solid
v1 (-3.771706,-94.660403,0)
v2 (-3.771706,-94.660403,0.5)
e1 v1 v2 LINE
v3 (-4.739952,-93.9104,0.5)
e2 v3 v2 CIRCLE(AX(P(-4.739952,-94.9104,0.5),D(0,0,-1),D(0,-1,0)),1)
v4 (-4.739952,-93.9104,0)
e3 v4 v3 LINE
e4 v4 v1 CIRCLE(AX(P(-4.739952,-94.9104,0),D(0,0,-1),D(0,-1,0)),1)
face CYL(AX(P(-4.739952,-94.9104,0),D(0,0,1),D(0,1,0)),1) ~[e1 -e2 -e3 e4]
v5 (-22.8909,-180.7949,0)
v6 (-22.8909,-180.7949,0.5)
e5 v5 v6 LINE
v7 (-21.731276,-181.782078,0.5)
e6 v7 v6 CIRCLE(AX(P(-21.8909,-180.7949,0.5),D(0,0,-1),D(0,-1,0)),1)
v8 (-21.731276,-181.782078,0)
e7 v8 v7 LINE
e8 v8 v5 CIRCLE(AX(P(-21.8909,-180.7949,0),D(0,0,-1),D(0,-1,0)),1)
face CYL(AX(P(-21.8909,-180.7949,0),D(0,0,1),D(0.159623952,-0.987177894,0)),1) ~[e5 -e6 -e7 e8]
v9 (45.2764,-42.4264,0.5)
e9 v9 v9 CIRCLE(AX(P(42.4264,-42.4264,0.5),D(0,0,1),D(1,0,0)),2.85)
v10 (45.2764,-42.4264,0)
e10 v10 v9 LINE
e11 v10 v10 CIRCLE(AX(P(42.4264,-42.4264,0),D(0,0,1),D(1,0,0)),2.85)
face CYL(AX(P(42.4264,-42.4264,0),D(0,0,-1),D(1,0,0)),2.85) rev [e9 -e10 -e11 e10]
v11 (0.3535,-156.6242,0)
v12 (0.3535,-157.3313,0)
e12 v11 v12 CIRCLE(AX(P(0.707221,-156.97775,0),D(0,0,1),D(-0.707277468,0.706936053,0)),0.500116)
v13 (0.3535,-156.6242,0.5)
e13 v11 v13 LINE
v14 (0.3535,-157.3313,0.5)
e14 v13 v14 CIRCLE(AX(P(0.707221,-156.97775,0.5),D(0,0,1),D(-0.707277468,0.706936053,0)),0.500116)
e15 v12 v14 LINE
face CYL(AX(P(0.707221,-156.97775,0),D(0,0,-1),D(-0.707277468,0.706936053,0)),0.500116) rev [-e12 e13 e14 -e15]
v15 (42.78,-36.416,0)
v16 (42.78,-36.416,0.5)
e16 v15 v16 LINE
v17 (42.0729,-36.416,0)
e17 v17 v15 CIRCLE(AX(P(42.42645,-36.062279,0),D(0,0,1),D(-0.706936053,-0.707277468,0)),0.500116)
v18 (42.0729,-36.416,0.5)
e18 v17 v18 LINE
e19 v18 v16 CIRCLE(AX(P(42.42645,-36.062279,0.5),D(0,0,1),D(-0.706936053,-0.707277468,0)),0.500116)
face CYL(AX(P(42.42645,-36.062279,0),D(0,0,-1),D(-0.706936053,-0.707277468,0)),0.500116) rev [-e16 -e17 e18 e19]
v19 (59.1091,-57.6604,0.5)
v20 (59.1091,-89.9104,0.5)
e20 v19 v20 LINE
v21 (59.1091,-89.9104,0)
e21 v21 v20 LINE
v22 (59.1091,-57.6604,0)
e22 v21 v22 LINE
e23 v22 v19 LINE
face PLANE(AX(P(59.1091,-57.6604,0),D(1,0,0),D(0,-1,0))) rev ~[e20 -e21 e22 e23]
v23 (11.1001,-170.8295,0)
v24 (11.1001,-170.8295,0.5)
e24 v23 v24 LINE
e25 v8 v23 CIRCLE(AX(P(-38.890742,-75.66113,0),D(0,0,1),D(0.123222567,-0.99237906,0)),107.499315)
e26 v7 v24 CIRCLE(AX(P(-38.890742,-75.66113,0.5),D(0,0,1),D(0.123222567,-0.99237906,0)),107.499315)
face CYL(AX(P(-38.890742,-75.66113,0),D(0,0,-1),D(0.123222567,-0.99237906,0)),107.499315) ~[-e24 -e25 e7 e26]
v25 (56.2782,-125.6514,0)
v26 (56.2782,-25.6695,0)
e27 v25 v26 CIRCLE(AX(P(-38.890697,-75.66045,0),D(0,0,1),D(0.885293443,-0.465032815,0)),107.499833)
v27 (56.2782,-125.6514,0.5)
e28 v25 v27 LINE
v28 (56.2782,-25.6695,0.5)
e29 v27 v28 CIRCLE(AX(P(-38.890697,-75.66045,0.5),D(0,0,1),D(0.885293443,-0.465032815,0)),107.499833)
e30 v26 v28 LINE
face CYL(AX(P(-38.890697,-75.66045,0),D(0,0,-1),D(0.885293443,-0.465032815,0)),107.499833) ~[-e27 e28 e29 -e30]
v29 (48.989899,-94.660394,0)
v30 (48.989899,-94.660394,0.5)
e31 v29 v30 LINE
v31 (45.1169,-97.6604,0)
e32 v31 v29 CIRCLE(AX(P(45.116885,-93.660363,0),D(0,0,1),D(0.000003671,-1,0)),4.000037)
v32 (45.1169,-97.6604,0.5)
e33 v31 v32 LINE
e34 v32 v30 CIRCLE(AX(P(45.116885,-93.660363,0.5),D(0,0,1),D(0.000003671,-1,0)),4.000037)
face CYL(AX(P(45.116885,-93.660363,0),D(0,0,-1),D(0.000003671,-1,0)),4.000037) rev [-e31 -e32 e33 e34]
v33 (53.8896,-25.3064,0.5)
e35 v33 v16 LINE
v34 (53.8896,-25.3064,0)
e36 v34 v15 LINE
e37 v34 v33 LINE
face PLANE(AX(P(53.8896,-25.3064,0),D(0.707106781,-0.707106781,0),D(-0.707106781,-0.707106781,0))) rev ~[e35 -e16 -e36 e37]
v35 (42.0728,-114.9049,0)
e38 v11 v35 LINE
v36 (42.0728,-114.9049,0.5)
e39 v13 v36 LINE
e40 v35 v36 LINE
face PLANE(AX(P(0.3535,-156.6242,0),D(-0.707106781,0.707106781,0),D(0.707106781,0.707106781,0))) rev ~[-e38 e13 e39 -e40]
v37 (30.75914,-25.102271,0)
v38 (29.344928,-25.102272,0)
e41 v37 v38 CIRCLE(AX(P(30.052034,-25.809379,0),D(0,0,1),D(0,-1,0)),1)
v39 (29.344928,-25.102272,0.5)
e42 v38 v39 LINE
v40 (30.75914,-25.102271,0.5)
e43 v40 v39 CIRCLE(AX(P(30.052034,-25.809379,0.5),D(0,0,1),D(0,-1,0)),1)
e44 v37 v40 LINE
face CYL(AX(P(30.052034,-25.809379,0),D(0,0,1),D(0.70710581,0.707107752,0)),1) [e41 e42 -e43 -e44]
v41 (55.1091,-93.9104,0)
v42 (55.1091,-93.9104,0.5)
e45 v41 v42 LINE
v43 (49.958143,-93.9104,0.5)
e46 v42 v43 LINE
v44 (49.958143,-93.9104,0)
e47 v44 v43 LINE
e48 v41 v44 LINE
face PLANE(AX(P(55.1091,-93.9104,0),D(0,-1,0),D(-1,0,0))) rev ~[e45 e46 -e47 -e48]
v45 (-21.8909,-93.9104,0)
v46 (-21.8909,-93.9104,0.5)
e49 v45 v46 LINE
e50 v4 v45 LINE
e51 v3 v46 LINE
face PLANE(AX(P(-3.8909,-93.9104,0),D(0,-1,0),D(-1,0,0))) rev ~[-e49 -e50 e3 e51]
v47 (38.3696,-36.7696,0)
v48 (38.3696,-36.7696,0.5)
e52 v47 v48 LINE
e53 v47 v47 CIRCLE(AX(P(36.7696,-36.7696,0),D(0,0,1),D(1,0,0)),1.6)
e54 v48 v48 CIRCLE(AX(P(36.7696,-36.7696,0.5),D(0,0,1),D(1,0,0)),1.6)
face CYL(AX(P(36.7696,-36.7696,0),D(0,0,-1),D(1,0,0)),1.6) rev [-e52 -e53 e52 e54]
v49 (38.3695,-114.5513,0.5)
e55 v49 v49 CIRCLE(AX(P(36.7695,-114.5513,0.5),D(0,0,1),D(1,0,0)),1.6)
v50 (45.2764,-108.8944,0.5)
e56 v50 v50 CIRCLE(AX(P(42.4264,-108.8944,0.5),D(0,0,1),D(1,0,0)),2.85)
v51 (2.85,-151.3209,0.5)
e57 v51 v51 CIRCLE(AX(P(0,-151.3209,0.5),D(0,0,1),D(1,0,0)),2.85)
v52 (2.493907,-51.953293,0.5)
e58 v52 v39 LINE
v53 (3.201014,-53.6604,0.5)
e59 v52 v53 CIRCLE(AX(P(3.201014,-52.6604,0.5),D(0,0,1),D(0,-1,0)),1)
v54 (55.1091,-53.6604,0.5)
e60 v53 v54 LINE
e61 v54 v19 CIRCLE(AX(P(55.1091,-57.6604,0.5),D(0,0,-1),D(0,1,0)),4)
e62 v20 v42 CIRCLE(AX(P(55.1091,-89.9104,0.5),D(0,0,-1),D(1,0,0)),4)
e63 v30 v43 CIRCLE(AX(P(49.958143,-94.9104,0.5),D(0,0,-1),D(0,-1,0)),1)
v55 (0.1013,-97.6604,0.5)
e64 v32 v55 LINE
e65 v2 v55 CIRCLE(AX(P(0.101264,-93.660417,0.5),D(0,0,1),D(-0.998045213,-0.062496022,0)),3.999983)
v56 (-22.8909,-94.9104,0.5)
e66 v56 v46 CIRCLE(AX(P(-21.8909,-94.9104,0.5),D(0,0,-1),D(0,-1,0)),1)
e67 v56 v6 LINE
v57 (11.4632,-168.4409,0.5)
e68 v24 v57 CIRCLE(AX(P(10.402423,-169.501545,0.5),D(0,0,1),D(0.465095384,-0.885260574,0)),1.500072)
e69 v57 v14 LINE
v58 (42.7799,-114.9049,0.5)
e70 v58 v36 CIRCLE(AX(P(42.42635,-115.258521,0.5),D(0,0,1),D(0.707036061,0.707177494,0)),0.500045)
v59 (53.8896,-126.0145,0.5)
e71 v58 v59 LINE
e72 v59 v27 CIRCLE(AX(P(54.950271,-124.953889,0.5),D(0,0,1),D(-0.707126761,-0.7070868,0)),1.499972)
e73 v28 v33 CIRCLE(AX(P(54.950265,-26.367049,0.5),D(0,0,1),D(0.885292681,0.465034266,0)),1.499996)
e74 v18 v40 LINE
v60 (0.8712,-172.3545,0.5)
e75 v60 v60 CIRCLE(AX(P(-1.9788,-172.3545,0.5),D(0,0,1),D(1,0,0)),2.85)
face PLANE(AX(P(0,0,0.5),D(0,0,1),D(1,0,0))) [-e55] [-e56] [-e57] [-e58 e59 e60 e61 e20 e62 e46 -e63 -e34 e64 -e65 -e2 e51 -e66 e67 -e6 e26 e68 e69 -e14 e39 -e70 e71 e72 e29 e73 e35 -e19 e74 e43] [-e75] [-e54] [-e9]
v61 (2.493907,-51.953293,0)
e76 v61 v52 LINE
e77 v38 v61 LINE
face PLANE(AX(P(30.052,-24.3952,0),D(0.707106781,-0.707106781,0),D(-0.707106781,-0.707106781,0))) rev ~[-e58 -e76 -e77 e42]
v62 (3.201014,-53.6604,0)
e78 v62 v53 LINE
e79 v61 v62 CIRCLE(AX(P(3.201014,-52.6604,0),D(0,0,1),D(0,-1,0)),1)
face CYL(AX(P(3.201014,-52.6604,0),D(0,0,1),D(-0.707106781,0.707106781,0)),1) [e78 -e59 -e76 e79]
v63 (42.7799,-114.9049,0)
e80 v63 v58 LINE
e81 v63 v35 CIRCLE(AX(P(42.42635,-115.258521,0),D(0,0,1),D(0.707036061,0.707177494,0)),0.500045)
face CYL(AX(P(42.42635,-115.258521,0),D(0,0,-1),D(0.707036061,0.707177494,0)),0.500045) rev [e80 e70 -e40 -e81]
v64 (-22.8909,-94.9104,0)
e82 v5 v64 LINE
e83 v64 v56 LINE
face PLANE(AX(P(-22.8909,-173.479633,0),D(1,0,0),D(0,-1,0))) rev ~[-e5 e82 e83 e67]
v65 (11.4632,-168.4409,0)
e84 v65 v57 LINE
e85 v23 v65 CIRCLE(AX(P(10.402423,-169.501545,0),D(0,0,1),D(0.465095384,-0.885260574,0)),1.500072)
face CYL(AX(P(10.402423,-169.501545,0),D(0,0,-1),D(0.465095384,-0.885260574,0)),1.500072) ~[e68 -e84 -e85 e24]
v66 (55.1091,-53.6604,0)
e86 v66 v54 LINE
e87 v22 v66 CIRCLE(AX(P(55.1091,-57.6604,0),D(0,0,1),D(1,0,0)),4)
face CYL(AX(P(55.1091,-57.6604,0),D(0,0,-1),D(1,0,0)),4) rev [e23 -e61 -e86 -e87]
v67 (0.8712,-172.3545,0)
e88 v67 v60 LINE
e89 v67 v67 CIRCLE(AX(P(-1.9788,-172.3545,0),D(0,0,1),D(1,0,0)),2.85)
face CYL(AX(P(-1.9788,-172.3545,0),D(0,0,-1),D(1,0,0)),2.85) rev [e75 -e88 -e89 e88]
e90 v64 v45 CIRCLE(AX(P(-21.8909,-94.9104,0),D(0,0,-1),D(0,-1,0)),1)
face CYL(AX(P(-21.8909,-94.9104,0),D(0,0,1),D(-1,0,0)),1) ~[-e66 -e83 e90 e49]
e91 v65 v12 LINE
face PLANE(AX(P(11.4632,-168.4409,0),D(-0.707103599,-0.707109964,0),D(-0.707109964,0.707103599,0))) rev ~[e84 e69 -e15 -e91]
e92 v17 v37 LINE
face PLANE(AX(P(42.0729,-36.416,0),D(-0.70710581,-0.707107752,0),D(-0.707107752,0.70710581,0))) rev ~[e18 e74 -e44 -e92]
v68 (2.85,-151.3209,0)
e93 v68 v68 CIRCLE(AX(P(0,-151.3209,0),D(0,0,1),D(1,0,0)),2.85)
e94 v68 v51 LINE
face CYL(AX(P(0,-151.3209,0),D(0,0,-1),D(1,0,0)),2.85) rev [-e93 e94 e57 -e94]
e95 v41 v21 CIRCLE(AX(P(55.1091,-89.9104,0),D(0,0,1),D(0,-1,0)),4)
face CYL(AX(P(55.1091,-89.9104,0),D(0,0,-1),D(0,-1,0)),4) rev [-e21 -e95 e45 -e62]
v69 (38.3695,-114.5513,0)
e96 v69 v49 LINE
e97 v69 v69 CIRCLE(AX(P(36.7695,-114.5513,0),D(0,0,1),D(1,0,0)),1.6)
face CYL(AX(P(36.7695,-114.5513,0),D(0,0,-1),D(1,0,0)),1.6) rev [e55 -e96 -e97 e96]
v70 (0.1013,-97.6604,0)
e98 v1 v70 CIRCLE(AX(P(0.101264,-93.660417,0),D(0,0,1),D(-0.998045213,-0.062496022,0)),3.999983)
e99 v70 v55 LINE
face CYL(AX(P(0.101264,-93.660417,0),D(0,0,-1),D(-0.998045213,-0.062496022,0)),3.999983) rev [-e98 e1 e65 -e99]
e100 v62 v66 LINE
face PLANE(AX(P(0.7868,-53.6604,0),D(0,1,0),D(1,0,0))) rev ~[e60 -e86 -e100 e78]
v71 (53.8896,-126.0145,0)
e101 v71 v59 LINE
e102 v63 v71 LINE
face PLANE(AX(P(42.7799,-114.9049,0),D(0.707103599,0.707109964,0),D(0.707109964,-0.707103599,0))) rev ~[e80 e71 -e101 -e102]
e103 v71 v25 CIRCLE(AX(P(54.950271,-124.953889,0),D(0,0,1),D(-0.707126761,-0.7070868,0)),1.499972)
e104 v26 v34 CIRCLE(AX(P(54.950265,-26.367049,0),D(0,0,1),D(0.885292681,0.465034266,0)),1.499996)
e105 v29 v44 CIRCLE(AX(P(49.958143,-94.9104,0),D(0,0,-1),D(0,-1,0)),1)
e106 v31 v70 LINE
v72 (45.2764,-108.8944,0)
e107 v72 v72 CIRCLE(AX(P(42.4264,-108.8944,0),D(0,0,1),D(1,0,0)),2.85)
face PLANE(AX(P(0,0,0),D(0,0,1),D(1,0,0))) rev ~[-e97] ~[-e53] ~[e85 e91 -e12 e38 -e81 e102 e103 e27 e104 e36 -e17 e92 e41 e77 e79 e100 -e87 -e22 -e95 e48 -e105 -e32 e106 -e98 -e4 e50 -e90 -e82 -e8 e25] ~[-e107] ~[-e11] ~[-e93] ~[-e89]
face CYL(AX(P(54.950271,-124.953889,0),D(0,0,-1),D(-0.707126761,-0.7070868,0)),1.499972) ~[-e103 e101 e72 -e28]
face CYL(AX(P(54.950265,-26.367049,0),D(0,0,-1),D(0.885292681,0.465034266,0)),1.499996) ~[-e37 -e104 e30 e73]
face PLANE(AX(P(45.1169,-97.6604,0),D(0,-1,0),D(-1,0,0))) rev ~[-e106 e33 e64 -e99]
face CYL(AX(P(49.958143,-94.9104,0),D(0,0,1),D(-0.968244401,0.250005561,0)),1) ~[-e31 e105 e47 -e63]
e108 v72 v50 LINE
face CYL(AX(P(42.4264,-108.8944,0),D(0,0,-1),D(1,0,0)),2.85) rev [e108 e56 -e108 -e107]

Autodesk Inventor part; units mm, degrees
ref_plane "YZ Plane" through (0, 0, 0) normal (1, 0, 0) x (0, 1, 0)
ref_plane "XZ Plane" through (0, 0, 0) normal (0, 1, 0) x (-1, 0, 0)
ref_plane "Work Plane1" through (0, 0, 0) normal (0, 0, 1) x (1, 0, 0)
sketch "Sketch1" plane through (0, 0, 0) normal (0, 0, 1) x (1, 0, 0)
  circle A0 centre (-1.9788, -172.3545) radius 2.85 projected
  circle A1 centre (36.7695, -114.5513) radius 1.6 projected
  circle A2 centre (-114.5513, -114.5513) radius 1.6 projected
  circle A3 centre (-114.5513, -36.7695) radius 1.6 projected
  circle A4 centre (36.7696, -36.7696) radius 1.6 projected
  circle A5 centre (-120.2082, -108.8944) radius 2.85 projected
  circle A6 centre (-120.2082, -42.4264) radius 2.85 projected
  circle A7 centre (42.4264, -42.4264) radius 2.85 projected
  circle A8 centre (42.4264, -108.8944) radius 2.85 projected
  circle A9 centre (0, -151.3209) radius 2.85 projected
  circle A10 centre (-77.7818, -151.3208) radius 2.85 projected
  arc A11 (3.1213, -2.5355) -> (3.3245, -2.9609) centre (3.2981, -2.7123) ccw projected
  arc A12 (4.9497, -3.5355) -> (3.3245, -2.9609) centre (3.5355, -4.9497) ccw projected
  line L0 (4.9497, -3.5355) -> (33.234, -31.8198) projected
  arc A13 (33.234, -34.6482) -> (33.234, -31.8198) centre (31.8198, -33.234) ccw projected
  line L1 (33.234, -34.6482) -> (32.5269, -35.3553) projected
  arc A14 (32.5269, -35.3553) -> (32.5269, -38.1838) centre (33.9411, -36.7696) ccw projected
  line L2 (32.5269, -38.1838) -> (41.0122, -46.669) projected
  arc A15 (41.0122, -46.669) -> (43.8406, -46.669) centre (42.4264, -45.2548) ccw projected
  line L3 (43.8406, -46.669) -> (50.8531, -39.6566) projected
  arc A16 (54.1372, -40.3613) -> (50.8531, -39.6566) centre (52.2673, -41.0708) ccw projected
  arc A17 (54.1372, -110.9596) -> (54.1372, -40.3613) centre (-38.8909, -75.6604) ccw projected
  arc A18 (50.8531, -111.6643) -> (54.1372, -110.9596) centre (52.2673, -110.25) ccw projected
  line L4 (50.8531, -111.6643) -> (43.8406, -104.6518) projected
  arc A19 (43.8406, -104.6518) -> (41.0122, -104.6518) centre (42.4264, -106.066) ccw projected
  line L5 (41.0122, -104.6518) -> (32.5269, -113.1371) projected
  arc A20 (32.5269, -113.1371) -> (32.5269, -115.9655) centre (33.9411, -114.5513) ccw projected
  line L6 (32.5269, -115.9655) -> (33.234, -116.6726) projected
  arc A21 (33.234, -119.501) -> (33.234, -116.6726) centre (31.8198, -118.0868) ccw projected
  line L7 (33.234, -119.501) -> (4.9497, -147.7853) projected
  arc A22 (2.1213, -147.7853) -> (4.9497, -147.7853) centre (3.5355, -146.3711) ccw projected
  line L8 (2.1213, -147.7853) -> (1.4142, -147.0782) projected
  arc A23 (1.4142, -147.0782) -> (-1.4142, -147.0782) centre (0, -148.4924) ccw projected
  line L9 (-1.4142, -147.0782) -> (-9.8995, -155.5635) projected
  arc A24 (-9.8995, -155.5635) -> (-9.8995, -158.3919) centre (-8.4853, -156.9777) ccw projected
  line L10 (-9.8995, -158.3919) -> (-2.8871, -165.4044) projected
  arc A25 (-3.5917, -168.6885) -> (-2.8871, -165.4044) centre (-4.3013, -166.8186) ccw projected
  arc A26 (-21.3624, -173.6043) -> (-3.5917, -168.6885) centre (-38.8909, -75.6604) ccw projected
  arc A27 (-24.8909, -170.6512) -> (-21.3624, -173.6043) centre (-21.8909, -170.6512) ccw projected
  line L11 (-24.8909, -107.6604) -> (-24.8909, -170.6512) projected
  arc A28 (-24.8909, -107.6604) -> (-27.8909, -104.6604) centre (-27.8909, -107.6604) ccw projected
  line L12 (-49.8909, -104.6604) -> (-27.8909, -104.6604) projected
  arc A29 (-49.8909, -104.6604) -> (-52.8909, -107.6604) centre (-49.8909, -107.6604) ccw projected
  line L13 (-52.8909, -170.6512) -> (-52.8909, -107.6604) projected
  arc A30 (-56.4194, -173.6043) -> (-52.8909, -170.6512) centre (-55.8909, -170.6512) ccw projected
  arc A31 (-74.19, -168.6885) -> (-56.4194, -173.6043) centre (-38.8909, -75.6604) ccw projected
  arc A32 (-74.8947, -165.4044) -> (-74.19, -168.6885) centre (-73.4805, -166.8186) ccw projected
  line L14 (-74.8947, -165.4044) -> (-67.8823, -158.3919) projected
  arc A33 (-67.8823, -158.3919) -> (-67.8823, -155.5635) centre (-69.2965, -156.9777) ccw projected
  line L15 (-67.8823, -155.5635) -> (-76.3675, -147.0782) projected
  arc A34 (-76.3675, -147.0782) -> (-79.196, -147.0782) centre (-77.7817, -148.4924) ccw projected
  line L16 (-79.196, -147.0782) -> (-79.9031, -147.7853) projected
  arc A35 (-82.7315, -147.7853) -> (-79.9031, -147.7853) centre (-81.3173, -146.3711) ccw projected
  line L17 (-82.7315, -147.7853) -> (-111.0158, -119.501) projected
  arc A36 (-111.0158, -116.6726) -> (-111.0158, -119.501) centre (-109.6016, -118.0868) ccw projected
  line L18 (-111.0158, -116.6726) -> (-110.3087, -115.9655) projected
  arc A37 (-110.3087, -115.9655) -> (-110.3087, -113.1371) centre (-111.7229, -114.5513) ccw projected
  line L19 (-110.3087, -113.1371) -> (-118.794, -104.6518) projected
  arc A38 (-118.794, -104.6518) -> (-121.6224, -104.6518) centre (-120.2082, -106.066) ccw projected
  line L20 (-121.6224, -104.6518) -> (-128.6348, -111.6642) projected
  arc A39 (-131.9189, -110.9596) -> (-128.6348, -111.6642) centre (-130.049, -110.25) ccw projected
  arc A40 (-138.0344, -84.0758) -> (-131.9189, -110.9596) centre (-38.8909, -75.6604) ccw projected
  arc A41 (-138.0344, -84.0758) -> (-139.0308, -83.1604) centre (-139.0308, -84.1604) ccw projected
  line L21 (-139.0308, -83.1604) -> (-143.8909, -83.1604) projected
  arc A42 (-144.8909, -82.1604) -> (-143.8909, -83.1604) centre (-143.8909, -82.1604) ccw projected
  line L22 (-144.8909, -82.1604) -> (-144.8909, -69.1604) projected
  arc A43 (-143.8909, -68.1604) -> (-144.8909, -69.1604) centre (-143.8909, -69.1604) ccw projected
  line L23 (-143.8909, -68.1604) -> (-139.0308, -68.1604) projected
  arc A44 (-139.0308, -68.1604) -> (-138.0344, -67.245) centre (-139.0308, -67.1604) ccw projected
  arc A45 (-131.9189, -40.3613) -> (-138.0344, -67.245) centre (-38.8909, -75.6604) ccw projected
  arc A46 (-128.6348, -39.6566) -> (-131.9189, -40.3613) centre (-130.049, -41.0708) ccw projected
  line L24 (-128.6348, -39.6566) -> (-121.6224, -46.669) projected
  arc A47 (-121.6224, -46.669) -> (-118.7939, -46.669) centre (-120.2082, -45.2548) ccw projected
  line L25 (-118.7939, -46.669) -> (-110.3087, -38.1838) projected
  arc A48 (-110.3087, -38.1838) -> (-110.3087, -35.3553) centre (-111.7229, -36.7696) ccw projected
  line L26 (-110.3087, -35.3553) -> (-111.0158, -34.6482) projected
  arc A49 (-111.0158, -31.8198) -> (-111.0158, -34.6482) centre (-109.6016, -33.234) ccw projected
  line L27 (-111.0158, -31.8198) -> (-82.7315, -3.5355) projected
  arc A50 (-81.1062, -2.9609) -> (-82.7315, -3.5355) centre (-81.3173, -4.9497) ccw projected
  arc A51 (-81.1062, -2.9609) -> (-80.9031, -2.5355) centre (-81.0798, -2.7123) ccw projected
  line L28 (-80.9031, -2.5355) -> (-83.4386, 0) projected
  line L29 (-83.4386, 0) -> (-119.8546, -36.416) projected
  arc A52 (-120.5617, -36.416) -> (-119.8546, -36.416) centre (-120.2082, -36.0624) ccw projected
  line L30 (-120.5617, -36.416) -> (-131.6714, -25.3063) projected
  arc A53 (-131.6714, -25.3063) -> (-134.06, -25.6695) centre (-132.732, -26.367) ccw projected
  arc A54 (-134.06, -25.6695) -> (-134.06, -125.6514) centre (-38.8909, -75.6604) ccw projected
  arc A55 (-134.06, -125.6514) -> (-131.6714, -126.0145) centre (-132.732, -124.9538) ccw projected
  line L31 (-131.6714, -126.0145) -> (-120.5617, -114.9048) projected
  arc A56 (-119.8546, -114.9048) -> (-120.5617, -114.9048) centre (-120.2082, -115.2584) ccw projected
  line L32 (-119.8546, -114.9048) -> (-78.1353, -156.6241) projected
  arc A57 (-78.1353, -157.3312) -> (-78.1353, -156.6241) centre (-78.4889, -156.9777) ccw projected
  line L33 (-78.1353, -157.3312) -> (-89.245, -168.4409) projected
  arc A58 (-89.245, -168.4409) -> (-88.8818, -170.8295) centre (-88.1843, -169.5016) ccw projected
  arc A59 (-88.8818, -170.8295) -> (-52.1373, -182.3412) centre (-38.8909, -75.6604) ccw projected
  arc A60 (-52.1373, -182.3412) -> (-49.8909, -180.3564) centre (-51.8909, -180.3564) ccw projected
  line L34 (-49.8909, -108.6604) -> (-49.8909, -180.3564) projected
  arc A61 (-48.8909, -107.6604) -> (-49.8909, -108.6604) centre (-48.8909, -108.6604) ccw projected
  line L35 (-28.8909, -107.6604) -> (-48.8909, -107.6604) projected
  arc A62 (-27.8909, -108.6604) -> (-28.8909, -107.6604) centre (-28.8909, -108.6604) ccw projected
  line L36 (-27.8909, -108.6604) -> (-27.8909, -180.3564) projected
  arc A63 (-27.8909, -180.3564) -> (-25.6444, -182.3412) centre (-25.8909, -180.3564) ccw projected
  arc A64 (-25.6444, -182.3412) -> (11.1001, -170.8295) centre (-38.8909, -75.6604) ccw projected
  arc A65 (11.1001, -170.8295) -> (11.4632, -168.4409) centre (10.4025, -169.5016) ccw projected
  line L37 (11.4632, -168.4409) -> (0.3535, -157.3313) projected
  arc A66 (0.3535, -156.6242) -> (0.3535, -157.3313) centre (0.7071, -156.9777) ccw projected
  line L38 (0.3535, -156.6242) -> (42.0728, -114.9049) projected
  arc A67 (42.7799, -114.9049) -> (42.0728, -114.9049) centre (42.4264, -115.2584) ccw projected
  line L39 (42.7799, -114.9049) -> (53.8896, -126.0145) projected
  arc A68 (53.8896, -126.0145) -> (56.2782, -125.6514) centre (54.9503, -124.9538) ccw projected
  arc A69 (56.2782, -125.6514) -> (56.2782, -25.6695) centre (-38.8909, -75.6604) ccw projected
  arc A70 (56.2782, -25.6695) -> (53.8896, -25.3064) centre (54.9503, -26.367) ccw projected
  line L40 (53.8896, -25.3064) -> (42.78, -36.416) projected
  arc A71 (42.0729, -36.416) -> (42.78, -36.416) centre (42.4264, -36.0624) ccw projected
  line L41 (42.0729, -36.416) -> (5.6568, 0) projected
  line L42 (5.6568, 0) -> (3.1213, -2.5355) projected
  arc A72 (-22.8909, -107.6604) -> (-27.8909, -102.6604) centre (-27.8909, -107.6604) ccw
  line L43 (-22.8909, -107.6604) -> (-22.8909, -170.6512)
  arc A73 (-22.8909, -170.6512) -> (-21.7147, -171.6356) centre (-21.8909, -170.6512) ccw
  arc A74 (-21.7147, -171.6356) -> (-4.3013, -166.8186) centre (-38.8909, -75.6604) ccw
  line L44 (-4.3013, -166.8186) -> (-11.3137, -159.8061)
  arc A75 (-11.3137, -154.1493) -> (-11.3137, -159.8061) centre (-8.4853, -156.9777) ccw
  line L45 (-11.3137, -154.1493) -> (-2.8284, -145.664)
  arc A76 (2.8284, -145.664) -> (-2.8284, -145.664) centre (0, -148.4924) ccw
  line L46 (2.8284, -145.664) -> (3.5355, -146.3711)
  line L47 (3.5355, -146.3711) -> (31.8198, -118.0868)
  line L48 (31.8198, -118.0868) -> (31.1127, -117.3797)
  arc A77 (31.1127, -111.7229) -> (31.1127, -117.3797) centre (33.9411, -114.5513) ccw
  line L49 (31.1127, -111.7229) -> (39.598, -103.2376)
  arc A78 (45.2548, -103.2376) -> (39.598, -103.2376) centre (42.4264, -106.066) ccw
  line L50 (45.2548, -103.2376) -> (52.2673, -110.25)
  arc A79 (52.2673, -110.25) -> (52.2673, -41.0708) centre (-38.8909, -75.6604) ccw
  line L51 (52.2673, -41.0708) -> (45.2548, -48.0833)
  arc A80 (39.598, -48.0833) -> (45.2548, -48.0833) centre (42.4264, -45.2548) ccw
  line L52 (39.598, -48.0833) -> (31.1127, -39.598)
  arc A81 (31.1127, -33.9411) -> (31.1127, -39.598) centre (33.9411, -36.7696) ccw
  line L53 (31.1127, -33.9411) -> (31.8198, -33.234)
  line L54 (31.8198, -33.234) -> (3.5355, -4.9497)
  arc A82 (1.7071, -1.1213) -> (3.5355, -4.9497) centre (3.2981, -2.7123) ccw
  line L55 (1.7071, -1.1213) -> (5.6568, 2.8284)
  line L56 (5.6568, 2.8284) -> (42.4264, -33.9411)
  line L57 (42.4264, -33.9411) -> (52.4754, -23.8921)
  arc A83 (58.0488, -24.7394) -> (52.4754, -23.8921) centre (54.9503, -26.367) ccw
  arc A84 (58.0488, -126.5815) -> (58.0488, -24.7394) centre (-38.8909, -75.6604) ccw
  arc A85 (52.4754, -127.4287) -> (58.0488, -126.5815) centre (54.9503, -124.9538) ccw
  line L58 (52.4754, -127.4287) -> (42.4264, -117.3797)
  line L59 (42.4264, -117.3797) -> (2.8284, -156.9777)
  line L60 (2.8284, -156.9777) -> (12.8774, -167.0267)
  arc A86 (12.0301, -172.6001) -> (12.8774, -167.0267) centre (10.4025, -169.5016) ccw
  arc A87 (-25.398, -184.3259) -> (12.0301, -172.6001) centre (-38.8909, -75.6604) ccw
  arc A88 (-29.8909, -180.3564) -> (-25.398, -184.3259) centre (-25.8909, -180.3564) ccw
  line L61 (-29.8909, -180.3564) -> (-29.8909, -109.6604)
  line L62 (-29.8909, -109.6604) -> (-47.8909, -109.6604)
  line L63 (-47.8909, -109.6604) -> (-47.8909, -180.3564)
  arc A89 (-52.3838, -184.3259) -> (-47.8909, -180.3564) centre (-51.8909, -180.3564) ccw
  arc A90 (-89.8119, -172.6001) -> (-52.3838, -184.3259) centre (-38.8909, -75.6604) ccw
  arc A91 (-90.6592, -167.0267) -> (-89.8119, -172.6001) centre (-88.1843, -169.5016) ccw
  line L64 (-90.6592, -167.0267) -> (-80.6102, -156.9777)
  line L65 (-80.6102, -156.9777) -> (-120.2082, -117.3797)
  line L66 (-120.2082, -117.3797) -> (-130.2571, -127.4287)
  arc A92 (-135.8306, -126.5814) -> (-130.2571, -127.4287) centre (-132.732, -124.9538) ccw
  arc A93 (-135.8305, -24.7394) -> (-135.8306, -126.5814) centre (-38.8909, -75.6604) ccw
  arc A94 (-130.2571, -23.8921) -> (-135.8305, -24.7394) centre (-132.732, -26.367) ccw
  line L67 (-130.2571, -23.8921) -> (-120.2082, -33.9411)
  line L68 (-120.2082, -33.9411) -> (-83.4386, 2.8284)
  line L69 (-83.4386, 2.8284) -> (-79.4889, -1.1213)
  arc A95 (-81.3173, -4.9497) -> (-79.4889, -1.1213) centre (-81.0798, -2.7123) ccw
  line L70 (-81.3173, -4.9497) -> (-109.6016, -33.234)
  line L71 (-109.6016, -33.234) -> (-108.8945, -33.9411)
  arc A96 (-108.8945, -39.598) -> (-108.8945, -33.9411) centre (-111.7229, -36.7696) ccw
  line L72 (-108.8945, -39.598) -> (-117.3797, -48.0832)
  arc A97 (-123.0366, -48.0832) -> (-117.3797, -48.0832) centre (-120.2082, -45.2548) ccw
  line L73 (-123.0366, -48.0832) -> (-130.049, -41.0708)
  arc A98 (-130.049, -41.0708) -> (-136.0415, -67.4141) centre (-38.8909, -75.6604) ccw
  arc A99 (-139.0308, -70.1604) -> (-136.0415, -67.4141) centre (-139.0308, -67.1604) ccw
  line L74 (-139.0308, -70.1604) -> (-142.8909, -70.1604)
  line L75 (-142.8909, -70.1604) -> (-142.8909, -81.1604)
  line L76 (-142.8909, -81.1604) -> (-139.0308, -81.1604)
  arc A100 (-136.0415, -83.9067) -> (-139.0308, -81.1604) centre (-139.0308, -84.1604) ccw
  arc A101 (-136.0415, -83.9067) -> (-130.049, -110.25) centre (-38.8909, -75.6604) ccw
  line L77 (-130.049, -110.25) -> (-123.0366, -103.2376)
  arc A102 (-117.3797, -103.2376) -> (-123.0366, -103.2376) centre (-120.2082, -106.066) ccw
  line L78 (-117.3797, -103.2376) -> (-108.8945, -111.7229)
  arc A103 (-108.8945, -117.3797) -> (-108.8945, -111.7229) centre (-111.7229, -114.5513) ccw
  line L79 (-108.8945, -117.3797) -> (-109.6016, -118.0868)
  line L80 (-109.6016, -118.0868) -> (-81.3173, -146.3711)
  line L81 (-81.3173, -146.3711) -> (-80.6102, -145.664)
  arc A104 (-74.9533, -145.664) -> (-80.6102, -145.664) centre (-77.7817, -148.4924) ccw
  line L82 (-74.9533, -145.664) -> (-66.4681, -154.1493)
  arc A105 (-66.4681, -159.8061) -> (-66.4681, -154.1493) centre (-69.2965, -156.9777) ccw
  line L83 (-66.4681, -159.8061) -> (-73.4805, -166.8186)
  arc A106 (-73.4805, -166.8186) -> (-56.067, -171.6356) centre (-38.8909, -75.6604) ccw
  arc A107 (-56.067, -171.6356) -> (-54.8909, -170.6512) centre (-55.8909, -170.6512) ccw
  line L84 (-54.8909, -170.6512) -> (-54.8909, -107.6604)
  arc A108 (-49.8909, -102.6604) -> (-54.8909, -107.6604) centre (-49.8909, -107.6604) ccw
  line L85 (-49.8909, -102.6604) -> (-27.8909, -102.6604)
  line L86 (26.5165, -25.1023) -> (18.0312, -33.5876)
  line L87 (30.052, -24.3952) -> (19.4454, -35.0018)
  line L88 (19.4454, -35.0018) -> (-48.2132, -102.6604)
  line L89 (-22.8909, -107.6604) -> (-22.8909, -93.6016)
  line L90 (-22.8909, -93.6016) -> (-22.8909, -183.9852)
  circle A109 centre (-38.8909, -63.6604) radius 1.35 projected
  circle A110 centre (-38.8909, -87.6604) radius 1.35 projected
  arc A111 (-134.1409, -64.6604) -> (-136.1409, -66.6604) centre (-134.1409, -66.6604) ccw projected
  line L91 (-136.1409, -84.6604) -> (-136.1409, -66.6604) projected
  arc A112 (-136.1409, -84.6604) -> (-134.1409, -86.6604) centre (-134.1409, -84.6604) ccw projected
  line L92 (-113.1409, -86.6604) -> (-134.1409, -86.6604) projected
  arc A113 (-111.1409, -88.6604) -> (-113.1409, -86.6604) centre (-113.1409, -88.6604) ccw projected
  line L93 (-111.1409, -89.9104) -> (-111.1409, -88.6604) projected
  arc A114 (-111.1409, -89.9104) -> (-109.1409, -91.9104) centre (-109.1409, -89.9104) ccw projected
  line L94 (-3.8909, -91.9104) -> (-109.1409, -91.9104) projected
  arc A115 (-1.8948, -93.7854) -> (-3.8909, -91.9104) centre (-3.8909, -93.9104) ccw projected
  arc A116 (-1.8948, -93.7854) -> (0.1013, -95.6604) centre (0.1013, -93.6604) ccw projected
  line L95 (45.1169, -95.6604) -> (0.1013, -95.6604) projected
  arc A117 (45.1169, -95.6604) -> (47.113, -93.7854) centre (45.1169, -93.6604) ccw projected
  arc A118 (49.1091, -91.9104) -> (47.113, -93.7854) centre (49.1091, -93.9104) ccw projected
  line L96 (55.1091, -91.9104) -> (49.1091, -91.9104) projected
  arc A119 (55.1091, -91.9104) -> (57.1091, -89.9104) centre (55.1091, -89.9104) ccw projected
  line L97 (57.1091, -57.6604) -> (57.1091, -89.9104) projected
  arc A120 (57.1091, -57.6604) -> (55.1091, -55.6604) centre (55.1091, -57.6604) ccw projected
  line L98 (0.1091, -55.6604) -> (55.1091, -55.6604) projected
  arc A121 (0.1091, -55.6604) -> (-1.887, -57.5354) centre (0.1091, -57.6604) ccw projected
  arc A122 (-3.8831, -59.4104) -> (-1.887, -57.5354) centre (-3.8831, -57.4104) ccw projected
  line L99 (-106.6409, -59.4104) -> (-3.8831, -59.4104) projected
  arc A123 (-106.6409, -59.4104) -> (-108.6409, -61.4104) centre (-106.6409, -61.4104) ccw projected
  line L100 (-108.6409, -62.6604) -> (-108.6409, -61.4104) projected
  arc A124 (-110.6409, -64.6604) -> (-108.6409, -62.6604) centre (-110.6409, -62.6604) ccw projected
  line L101 (-134.1409, -64.6604) -> (-110.6409, -64.6604) projected
  arc A125 (59.1091, -57.6604) -> (55.1091, -53.6604) centre (55.1091, -57.6604) ccw
  line L102 (59.1091, -57.6604) -> (59.1091, -89.9104)
  arc A126 (55.1091, -93.9104) -> (59.1091, -89.9104) centre (55.1091, -89.9104) ccw
  line L103 (55.1091, -93.9104) -> (49.1091, -93.9104)
  arc A127 (45.1169, -97.6604) -> (49.1091, -93.9104) centre (45.1169, -93.6604) ccw
  line L104 (45.1169, -97.6604) -> (0.1013, -97.6604)
  arc A128 (-3.8909, -93.9104) -> (0.1013, -97.6604) centre (0.1013, -93.6604) ccw
  line L105 (-3.8909, -93.9104) -> (-109.1409, -93.9104)
  arc A129 (-113.1409, -89.9104) -> (-109.1409, -93.9104) centre (-109.1409, -89.9104) ccw
  line L106 (-113.1409, -89.9104) -> (-113.1409, -88.6604)
  line L107 (-113.1409, -88.6604) -> (-134.1409, -88.6604)
  arc A130 (-138.1409, -84.6604) -> (-134.1409, -88.6604) centre (-134.1409, -84.6604) ccw
  line L108 (-138.1409, -84.6604) -> (-138.1409, -66.6604)
  arc A131 (-134.1409, -62.6604) -> (-138.1409, -66.6604) centre (-134.1409, -66.6604) ccw
  line L109 (-134.1409, -62.6604) -> (-110.6409, -62.6604)
  line L110 (-110.6409, -62.6604) -> (-110.6409, -61.4104)
  arc A132 (-106.6409, -57.4104) -> (-110.6409, -61.4104) centre (-106.6409, -61.4104) ccw
  line L111 (-106.6409, -57.4104) -> (-3.8831, -57.4104)
  arc A133 (0.1091, -53.6604) -> (-3.8831, -57.4104) centre (0.1091, -57.6604) ccw
  line L112 (0.1091, -53.6604) -> (55.1091, -53.6604)
  point P0 (0, 0)
  point P1 (-22.8909, -93.9104)
  point P2 (-22.8909, -181.9631)
  point P3 (0.7868, -53.6604)
  dimension "d0" = 2
  dimension "d1" = 2
  dimension "d2" = 2
extrude "Extrusion1" add sketch "Sketch1" along normal blind 0.5 contours L41 A71 L40 A70 A69 A68 L39 A67 L38 A66 L37 A65 A64 L90 A27 A26 A25 L10 A24 L9 A23 L8 A22 L7 A21 L6 A20 L5 A19 L4 A18 A17 L102 A125 A16 L3 A15 L2 A14 L1 A13 L0 L87 | L0 A13 L1 A14 L2 A15 L3 A16 A17 A125 A79 L51 A80 L52 A81 L53 L54 L87 | L54 L53 A81 L52 A80 L51 A79 A125 L112 L88 L87 | L105 A128 L104 A127 L103 A126 A79 L50 A78 L49 A77 L48 L47 L46 A76 L45 A75 L44 A74 A73 L43 L89 | A17 A18 L4 A19 L5 A20 L6 A21 L7 A22 L8 A23 L9 A24 L10 A25 A26 A27 L90 A73 A74 L44 A75 L45 A76 L46 L47 L48 A77 L49 A78 L50 A79 A126 L102
fillet "Fillet1" radius 1 6 edges at (-22.8909, -93.9104, 0.25) (-3.8909, -93.9104, 0.25) (49.1091, -93.9104, 0.25) (0.7868, -53.6604, 0.25) (30.052, -24.3952, 0.25) (-22.8909, -181.9631, 0.25)
properties part number "Cover Right"
